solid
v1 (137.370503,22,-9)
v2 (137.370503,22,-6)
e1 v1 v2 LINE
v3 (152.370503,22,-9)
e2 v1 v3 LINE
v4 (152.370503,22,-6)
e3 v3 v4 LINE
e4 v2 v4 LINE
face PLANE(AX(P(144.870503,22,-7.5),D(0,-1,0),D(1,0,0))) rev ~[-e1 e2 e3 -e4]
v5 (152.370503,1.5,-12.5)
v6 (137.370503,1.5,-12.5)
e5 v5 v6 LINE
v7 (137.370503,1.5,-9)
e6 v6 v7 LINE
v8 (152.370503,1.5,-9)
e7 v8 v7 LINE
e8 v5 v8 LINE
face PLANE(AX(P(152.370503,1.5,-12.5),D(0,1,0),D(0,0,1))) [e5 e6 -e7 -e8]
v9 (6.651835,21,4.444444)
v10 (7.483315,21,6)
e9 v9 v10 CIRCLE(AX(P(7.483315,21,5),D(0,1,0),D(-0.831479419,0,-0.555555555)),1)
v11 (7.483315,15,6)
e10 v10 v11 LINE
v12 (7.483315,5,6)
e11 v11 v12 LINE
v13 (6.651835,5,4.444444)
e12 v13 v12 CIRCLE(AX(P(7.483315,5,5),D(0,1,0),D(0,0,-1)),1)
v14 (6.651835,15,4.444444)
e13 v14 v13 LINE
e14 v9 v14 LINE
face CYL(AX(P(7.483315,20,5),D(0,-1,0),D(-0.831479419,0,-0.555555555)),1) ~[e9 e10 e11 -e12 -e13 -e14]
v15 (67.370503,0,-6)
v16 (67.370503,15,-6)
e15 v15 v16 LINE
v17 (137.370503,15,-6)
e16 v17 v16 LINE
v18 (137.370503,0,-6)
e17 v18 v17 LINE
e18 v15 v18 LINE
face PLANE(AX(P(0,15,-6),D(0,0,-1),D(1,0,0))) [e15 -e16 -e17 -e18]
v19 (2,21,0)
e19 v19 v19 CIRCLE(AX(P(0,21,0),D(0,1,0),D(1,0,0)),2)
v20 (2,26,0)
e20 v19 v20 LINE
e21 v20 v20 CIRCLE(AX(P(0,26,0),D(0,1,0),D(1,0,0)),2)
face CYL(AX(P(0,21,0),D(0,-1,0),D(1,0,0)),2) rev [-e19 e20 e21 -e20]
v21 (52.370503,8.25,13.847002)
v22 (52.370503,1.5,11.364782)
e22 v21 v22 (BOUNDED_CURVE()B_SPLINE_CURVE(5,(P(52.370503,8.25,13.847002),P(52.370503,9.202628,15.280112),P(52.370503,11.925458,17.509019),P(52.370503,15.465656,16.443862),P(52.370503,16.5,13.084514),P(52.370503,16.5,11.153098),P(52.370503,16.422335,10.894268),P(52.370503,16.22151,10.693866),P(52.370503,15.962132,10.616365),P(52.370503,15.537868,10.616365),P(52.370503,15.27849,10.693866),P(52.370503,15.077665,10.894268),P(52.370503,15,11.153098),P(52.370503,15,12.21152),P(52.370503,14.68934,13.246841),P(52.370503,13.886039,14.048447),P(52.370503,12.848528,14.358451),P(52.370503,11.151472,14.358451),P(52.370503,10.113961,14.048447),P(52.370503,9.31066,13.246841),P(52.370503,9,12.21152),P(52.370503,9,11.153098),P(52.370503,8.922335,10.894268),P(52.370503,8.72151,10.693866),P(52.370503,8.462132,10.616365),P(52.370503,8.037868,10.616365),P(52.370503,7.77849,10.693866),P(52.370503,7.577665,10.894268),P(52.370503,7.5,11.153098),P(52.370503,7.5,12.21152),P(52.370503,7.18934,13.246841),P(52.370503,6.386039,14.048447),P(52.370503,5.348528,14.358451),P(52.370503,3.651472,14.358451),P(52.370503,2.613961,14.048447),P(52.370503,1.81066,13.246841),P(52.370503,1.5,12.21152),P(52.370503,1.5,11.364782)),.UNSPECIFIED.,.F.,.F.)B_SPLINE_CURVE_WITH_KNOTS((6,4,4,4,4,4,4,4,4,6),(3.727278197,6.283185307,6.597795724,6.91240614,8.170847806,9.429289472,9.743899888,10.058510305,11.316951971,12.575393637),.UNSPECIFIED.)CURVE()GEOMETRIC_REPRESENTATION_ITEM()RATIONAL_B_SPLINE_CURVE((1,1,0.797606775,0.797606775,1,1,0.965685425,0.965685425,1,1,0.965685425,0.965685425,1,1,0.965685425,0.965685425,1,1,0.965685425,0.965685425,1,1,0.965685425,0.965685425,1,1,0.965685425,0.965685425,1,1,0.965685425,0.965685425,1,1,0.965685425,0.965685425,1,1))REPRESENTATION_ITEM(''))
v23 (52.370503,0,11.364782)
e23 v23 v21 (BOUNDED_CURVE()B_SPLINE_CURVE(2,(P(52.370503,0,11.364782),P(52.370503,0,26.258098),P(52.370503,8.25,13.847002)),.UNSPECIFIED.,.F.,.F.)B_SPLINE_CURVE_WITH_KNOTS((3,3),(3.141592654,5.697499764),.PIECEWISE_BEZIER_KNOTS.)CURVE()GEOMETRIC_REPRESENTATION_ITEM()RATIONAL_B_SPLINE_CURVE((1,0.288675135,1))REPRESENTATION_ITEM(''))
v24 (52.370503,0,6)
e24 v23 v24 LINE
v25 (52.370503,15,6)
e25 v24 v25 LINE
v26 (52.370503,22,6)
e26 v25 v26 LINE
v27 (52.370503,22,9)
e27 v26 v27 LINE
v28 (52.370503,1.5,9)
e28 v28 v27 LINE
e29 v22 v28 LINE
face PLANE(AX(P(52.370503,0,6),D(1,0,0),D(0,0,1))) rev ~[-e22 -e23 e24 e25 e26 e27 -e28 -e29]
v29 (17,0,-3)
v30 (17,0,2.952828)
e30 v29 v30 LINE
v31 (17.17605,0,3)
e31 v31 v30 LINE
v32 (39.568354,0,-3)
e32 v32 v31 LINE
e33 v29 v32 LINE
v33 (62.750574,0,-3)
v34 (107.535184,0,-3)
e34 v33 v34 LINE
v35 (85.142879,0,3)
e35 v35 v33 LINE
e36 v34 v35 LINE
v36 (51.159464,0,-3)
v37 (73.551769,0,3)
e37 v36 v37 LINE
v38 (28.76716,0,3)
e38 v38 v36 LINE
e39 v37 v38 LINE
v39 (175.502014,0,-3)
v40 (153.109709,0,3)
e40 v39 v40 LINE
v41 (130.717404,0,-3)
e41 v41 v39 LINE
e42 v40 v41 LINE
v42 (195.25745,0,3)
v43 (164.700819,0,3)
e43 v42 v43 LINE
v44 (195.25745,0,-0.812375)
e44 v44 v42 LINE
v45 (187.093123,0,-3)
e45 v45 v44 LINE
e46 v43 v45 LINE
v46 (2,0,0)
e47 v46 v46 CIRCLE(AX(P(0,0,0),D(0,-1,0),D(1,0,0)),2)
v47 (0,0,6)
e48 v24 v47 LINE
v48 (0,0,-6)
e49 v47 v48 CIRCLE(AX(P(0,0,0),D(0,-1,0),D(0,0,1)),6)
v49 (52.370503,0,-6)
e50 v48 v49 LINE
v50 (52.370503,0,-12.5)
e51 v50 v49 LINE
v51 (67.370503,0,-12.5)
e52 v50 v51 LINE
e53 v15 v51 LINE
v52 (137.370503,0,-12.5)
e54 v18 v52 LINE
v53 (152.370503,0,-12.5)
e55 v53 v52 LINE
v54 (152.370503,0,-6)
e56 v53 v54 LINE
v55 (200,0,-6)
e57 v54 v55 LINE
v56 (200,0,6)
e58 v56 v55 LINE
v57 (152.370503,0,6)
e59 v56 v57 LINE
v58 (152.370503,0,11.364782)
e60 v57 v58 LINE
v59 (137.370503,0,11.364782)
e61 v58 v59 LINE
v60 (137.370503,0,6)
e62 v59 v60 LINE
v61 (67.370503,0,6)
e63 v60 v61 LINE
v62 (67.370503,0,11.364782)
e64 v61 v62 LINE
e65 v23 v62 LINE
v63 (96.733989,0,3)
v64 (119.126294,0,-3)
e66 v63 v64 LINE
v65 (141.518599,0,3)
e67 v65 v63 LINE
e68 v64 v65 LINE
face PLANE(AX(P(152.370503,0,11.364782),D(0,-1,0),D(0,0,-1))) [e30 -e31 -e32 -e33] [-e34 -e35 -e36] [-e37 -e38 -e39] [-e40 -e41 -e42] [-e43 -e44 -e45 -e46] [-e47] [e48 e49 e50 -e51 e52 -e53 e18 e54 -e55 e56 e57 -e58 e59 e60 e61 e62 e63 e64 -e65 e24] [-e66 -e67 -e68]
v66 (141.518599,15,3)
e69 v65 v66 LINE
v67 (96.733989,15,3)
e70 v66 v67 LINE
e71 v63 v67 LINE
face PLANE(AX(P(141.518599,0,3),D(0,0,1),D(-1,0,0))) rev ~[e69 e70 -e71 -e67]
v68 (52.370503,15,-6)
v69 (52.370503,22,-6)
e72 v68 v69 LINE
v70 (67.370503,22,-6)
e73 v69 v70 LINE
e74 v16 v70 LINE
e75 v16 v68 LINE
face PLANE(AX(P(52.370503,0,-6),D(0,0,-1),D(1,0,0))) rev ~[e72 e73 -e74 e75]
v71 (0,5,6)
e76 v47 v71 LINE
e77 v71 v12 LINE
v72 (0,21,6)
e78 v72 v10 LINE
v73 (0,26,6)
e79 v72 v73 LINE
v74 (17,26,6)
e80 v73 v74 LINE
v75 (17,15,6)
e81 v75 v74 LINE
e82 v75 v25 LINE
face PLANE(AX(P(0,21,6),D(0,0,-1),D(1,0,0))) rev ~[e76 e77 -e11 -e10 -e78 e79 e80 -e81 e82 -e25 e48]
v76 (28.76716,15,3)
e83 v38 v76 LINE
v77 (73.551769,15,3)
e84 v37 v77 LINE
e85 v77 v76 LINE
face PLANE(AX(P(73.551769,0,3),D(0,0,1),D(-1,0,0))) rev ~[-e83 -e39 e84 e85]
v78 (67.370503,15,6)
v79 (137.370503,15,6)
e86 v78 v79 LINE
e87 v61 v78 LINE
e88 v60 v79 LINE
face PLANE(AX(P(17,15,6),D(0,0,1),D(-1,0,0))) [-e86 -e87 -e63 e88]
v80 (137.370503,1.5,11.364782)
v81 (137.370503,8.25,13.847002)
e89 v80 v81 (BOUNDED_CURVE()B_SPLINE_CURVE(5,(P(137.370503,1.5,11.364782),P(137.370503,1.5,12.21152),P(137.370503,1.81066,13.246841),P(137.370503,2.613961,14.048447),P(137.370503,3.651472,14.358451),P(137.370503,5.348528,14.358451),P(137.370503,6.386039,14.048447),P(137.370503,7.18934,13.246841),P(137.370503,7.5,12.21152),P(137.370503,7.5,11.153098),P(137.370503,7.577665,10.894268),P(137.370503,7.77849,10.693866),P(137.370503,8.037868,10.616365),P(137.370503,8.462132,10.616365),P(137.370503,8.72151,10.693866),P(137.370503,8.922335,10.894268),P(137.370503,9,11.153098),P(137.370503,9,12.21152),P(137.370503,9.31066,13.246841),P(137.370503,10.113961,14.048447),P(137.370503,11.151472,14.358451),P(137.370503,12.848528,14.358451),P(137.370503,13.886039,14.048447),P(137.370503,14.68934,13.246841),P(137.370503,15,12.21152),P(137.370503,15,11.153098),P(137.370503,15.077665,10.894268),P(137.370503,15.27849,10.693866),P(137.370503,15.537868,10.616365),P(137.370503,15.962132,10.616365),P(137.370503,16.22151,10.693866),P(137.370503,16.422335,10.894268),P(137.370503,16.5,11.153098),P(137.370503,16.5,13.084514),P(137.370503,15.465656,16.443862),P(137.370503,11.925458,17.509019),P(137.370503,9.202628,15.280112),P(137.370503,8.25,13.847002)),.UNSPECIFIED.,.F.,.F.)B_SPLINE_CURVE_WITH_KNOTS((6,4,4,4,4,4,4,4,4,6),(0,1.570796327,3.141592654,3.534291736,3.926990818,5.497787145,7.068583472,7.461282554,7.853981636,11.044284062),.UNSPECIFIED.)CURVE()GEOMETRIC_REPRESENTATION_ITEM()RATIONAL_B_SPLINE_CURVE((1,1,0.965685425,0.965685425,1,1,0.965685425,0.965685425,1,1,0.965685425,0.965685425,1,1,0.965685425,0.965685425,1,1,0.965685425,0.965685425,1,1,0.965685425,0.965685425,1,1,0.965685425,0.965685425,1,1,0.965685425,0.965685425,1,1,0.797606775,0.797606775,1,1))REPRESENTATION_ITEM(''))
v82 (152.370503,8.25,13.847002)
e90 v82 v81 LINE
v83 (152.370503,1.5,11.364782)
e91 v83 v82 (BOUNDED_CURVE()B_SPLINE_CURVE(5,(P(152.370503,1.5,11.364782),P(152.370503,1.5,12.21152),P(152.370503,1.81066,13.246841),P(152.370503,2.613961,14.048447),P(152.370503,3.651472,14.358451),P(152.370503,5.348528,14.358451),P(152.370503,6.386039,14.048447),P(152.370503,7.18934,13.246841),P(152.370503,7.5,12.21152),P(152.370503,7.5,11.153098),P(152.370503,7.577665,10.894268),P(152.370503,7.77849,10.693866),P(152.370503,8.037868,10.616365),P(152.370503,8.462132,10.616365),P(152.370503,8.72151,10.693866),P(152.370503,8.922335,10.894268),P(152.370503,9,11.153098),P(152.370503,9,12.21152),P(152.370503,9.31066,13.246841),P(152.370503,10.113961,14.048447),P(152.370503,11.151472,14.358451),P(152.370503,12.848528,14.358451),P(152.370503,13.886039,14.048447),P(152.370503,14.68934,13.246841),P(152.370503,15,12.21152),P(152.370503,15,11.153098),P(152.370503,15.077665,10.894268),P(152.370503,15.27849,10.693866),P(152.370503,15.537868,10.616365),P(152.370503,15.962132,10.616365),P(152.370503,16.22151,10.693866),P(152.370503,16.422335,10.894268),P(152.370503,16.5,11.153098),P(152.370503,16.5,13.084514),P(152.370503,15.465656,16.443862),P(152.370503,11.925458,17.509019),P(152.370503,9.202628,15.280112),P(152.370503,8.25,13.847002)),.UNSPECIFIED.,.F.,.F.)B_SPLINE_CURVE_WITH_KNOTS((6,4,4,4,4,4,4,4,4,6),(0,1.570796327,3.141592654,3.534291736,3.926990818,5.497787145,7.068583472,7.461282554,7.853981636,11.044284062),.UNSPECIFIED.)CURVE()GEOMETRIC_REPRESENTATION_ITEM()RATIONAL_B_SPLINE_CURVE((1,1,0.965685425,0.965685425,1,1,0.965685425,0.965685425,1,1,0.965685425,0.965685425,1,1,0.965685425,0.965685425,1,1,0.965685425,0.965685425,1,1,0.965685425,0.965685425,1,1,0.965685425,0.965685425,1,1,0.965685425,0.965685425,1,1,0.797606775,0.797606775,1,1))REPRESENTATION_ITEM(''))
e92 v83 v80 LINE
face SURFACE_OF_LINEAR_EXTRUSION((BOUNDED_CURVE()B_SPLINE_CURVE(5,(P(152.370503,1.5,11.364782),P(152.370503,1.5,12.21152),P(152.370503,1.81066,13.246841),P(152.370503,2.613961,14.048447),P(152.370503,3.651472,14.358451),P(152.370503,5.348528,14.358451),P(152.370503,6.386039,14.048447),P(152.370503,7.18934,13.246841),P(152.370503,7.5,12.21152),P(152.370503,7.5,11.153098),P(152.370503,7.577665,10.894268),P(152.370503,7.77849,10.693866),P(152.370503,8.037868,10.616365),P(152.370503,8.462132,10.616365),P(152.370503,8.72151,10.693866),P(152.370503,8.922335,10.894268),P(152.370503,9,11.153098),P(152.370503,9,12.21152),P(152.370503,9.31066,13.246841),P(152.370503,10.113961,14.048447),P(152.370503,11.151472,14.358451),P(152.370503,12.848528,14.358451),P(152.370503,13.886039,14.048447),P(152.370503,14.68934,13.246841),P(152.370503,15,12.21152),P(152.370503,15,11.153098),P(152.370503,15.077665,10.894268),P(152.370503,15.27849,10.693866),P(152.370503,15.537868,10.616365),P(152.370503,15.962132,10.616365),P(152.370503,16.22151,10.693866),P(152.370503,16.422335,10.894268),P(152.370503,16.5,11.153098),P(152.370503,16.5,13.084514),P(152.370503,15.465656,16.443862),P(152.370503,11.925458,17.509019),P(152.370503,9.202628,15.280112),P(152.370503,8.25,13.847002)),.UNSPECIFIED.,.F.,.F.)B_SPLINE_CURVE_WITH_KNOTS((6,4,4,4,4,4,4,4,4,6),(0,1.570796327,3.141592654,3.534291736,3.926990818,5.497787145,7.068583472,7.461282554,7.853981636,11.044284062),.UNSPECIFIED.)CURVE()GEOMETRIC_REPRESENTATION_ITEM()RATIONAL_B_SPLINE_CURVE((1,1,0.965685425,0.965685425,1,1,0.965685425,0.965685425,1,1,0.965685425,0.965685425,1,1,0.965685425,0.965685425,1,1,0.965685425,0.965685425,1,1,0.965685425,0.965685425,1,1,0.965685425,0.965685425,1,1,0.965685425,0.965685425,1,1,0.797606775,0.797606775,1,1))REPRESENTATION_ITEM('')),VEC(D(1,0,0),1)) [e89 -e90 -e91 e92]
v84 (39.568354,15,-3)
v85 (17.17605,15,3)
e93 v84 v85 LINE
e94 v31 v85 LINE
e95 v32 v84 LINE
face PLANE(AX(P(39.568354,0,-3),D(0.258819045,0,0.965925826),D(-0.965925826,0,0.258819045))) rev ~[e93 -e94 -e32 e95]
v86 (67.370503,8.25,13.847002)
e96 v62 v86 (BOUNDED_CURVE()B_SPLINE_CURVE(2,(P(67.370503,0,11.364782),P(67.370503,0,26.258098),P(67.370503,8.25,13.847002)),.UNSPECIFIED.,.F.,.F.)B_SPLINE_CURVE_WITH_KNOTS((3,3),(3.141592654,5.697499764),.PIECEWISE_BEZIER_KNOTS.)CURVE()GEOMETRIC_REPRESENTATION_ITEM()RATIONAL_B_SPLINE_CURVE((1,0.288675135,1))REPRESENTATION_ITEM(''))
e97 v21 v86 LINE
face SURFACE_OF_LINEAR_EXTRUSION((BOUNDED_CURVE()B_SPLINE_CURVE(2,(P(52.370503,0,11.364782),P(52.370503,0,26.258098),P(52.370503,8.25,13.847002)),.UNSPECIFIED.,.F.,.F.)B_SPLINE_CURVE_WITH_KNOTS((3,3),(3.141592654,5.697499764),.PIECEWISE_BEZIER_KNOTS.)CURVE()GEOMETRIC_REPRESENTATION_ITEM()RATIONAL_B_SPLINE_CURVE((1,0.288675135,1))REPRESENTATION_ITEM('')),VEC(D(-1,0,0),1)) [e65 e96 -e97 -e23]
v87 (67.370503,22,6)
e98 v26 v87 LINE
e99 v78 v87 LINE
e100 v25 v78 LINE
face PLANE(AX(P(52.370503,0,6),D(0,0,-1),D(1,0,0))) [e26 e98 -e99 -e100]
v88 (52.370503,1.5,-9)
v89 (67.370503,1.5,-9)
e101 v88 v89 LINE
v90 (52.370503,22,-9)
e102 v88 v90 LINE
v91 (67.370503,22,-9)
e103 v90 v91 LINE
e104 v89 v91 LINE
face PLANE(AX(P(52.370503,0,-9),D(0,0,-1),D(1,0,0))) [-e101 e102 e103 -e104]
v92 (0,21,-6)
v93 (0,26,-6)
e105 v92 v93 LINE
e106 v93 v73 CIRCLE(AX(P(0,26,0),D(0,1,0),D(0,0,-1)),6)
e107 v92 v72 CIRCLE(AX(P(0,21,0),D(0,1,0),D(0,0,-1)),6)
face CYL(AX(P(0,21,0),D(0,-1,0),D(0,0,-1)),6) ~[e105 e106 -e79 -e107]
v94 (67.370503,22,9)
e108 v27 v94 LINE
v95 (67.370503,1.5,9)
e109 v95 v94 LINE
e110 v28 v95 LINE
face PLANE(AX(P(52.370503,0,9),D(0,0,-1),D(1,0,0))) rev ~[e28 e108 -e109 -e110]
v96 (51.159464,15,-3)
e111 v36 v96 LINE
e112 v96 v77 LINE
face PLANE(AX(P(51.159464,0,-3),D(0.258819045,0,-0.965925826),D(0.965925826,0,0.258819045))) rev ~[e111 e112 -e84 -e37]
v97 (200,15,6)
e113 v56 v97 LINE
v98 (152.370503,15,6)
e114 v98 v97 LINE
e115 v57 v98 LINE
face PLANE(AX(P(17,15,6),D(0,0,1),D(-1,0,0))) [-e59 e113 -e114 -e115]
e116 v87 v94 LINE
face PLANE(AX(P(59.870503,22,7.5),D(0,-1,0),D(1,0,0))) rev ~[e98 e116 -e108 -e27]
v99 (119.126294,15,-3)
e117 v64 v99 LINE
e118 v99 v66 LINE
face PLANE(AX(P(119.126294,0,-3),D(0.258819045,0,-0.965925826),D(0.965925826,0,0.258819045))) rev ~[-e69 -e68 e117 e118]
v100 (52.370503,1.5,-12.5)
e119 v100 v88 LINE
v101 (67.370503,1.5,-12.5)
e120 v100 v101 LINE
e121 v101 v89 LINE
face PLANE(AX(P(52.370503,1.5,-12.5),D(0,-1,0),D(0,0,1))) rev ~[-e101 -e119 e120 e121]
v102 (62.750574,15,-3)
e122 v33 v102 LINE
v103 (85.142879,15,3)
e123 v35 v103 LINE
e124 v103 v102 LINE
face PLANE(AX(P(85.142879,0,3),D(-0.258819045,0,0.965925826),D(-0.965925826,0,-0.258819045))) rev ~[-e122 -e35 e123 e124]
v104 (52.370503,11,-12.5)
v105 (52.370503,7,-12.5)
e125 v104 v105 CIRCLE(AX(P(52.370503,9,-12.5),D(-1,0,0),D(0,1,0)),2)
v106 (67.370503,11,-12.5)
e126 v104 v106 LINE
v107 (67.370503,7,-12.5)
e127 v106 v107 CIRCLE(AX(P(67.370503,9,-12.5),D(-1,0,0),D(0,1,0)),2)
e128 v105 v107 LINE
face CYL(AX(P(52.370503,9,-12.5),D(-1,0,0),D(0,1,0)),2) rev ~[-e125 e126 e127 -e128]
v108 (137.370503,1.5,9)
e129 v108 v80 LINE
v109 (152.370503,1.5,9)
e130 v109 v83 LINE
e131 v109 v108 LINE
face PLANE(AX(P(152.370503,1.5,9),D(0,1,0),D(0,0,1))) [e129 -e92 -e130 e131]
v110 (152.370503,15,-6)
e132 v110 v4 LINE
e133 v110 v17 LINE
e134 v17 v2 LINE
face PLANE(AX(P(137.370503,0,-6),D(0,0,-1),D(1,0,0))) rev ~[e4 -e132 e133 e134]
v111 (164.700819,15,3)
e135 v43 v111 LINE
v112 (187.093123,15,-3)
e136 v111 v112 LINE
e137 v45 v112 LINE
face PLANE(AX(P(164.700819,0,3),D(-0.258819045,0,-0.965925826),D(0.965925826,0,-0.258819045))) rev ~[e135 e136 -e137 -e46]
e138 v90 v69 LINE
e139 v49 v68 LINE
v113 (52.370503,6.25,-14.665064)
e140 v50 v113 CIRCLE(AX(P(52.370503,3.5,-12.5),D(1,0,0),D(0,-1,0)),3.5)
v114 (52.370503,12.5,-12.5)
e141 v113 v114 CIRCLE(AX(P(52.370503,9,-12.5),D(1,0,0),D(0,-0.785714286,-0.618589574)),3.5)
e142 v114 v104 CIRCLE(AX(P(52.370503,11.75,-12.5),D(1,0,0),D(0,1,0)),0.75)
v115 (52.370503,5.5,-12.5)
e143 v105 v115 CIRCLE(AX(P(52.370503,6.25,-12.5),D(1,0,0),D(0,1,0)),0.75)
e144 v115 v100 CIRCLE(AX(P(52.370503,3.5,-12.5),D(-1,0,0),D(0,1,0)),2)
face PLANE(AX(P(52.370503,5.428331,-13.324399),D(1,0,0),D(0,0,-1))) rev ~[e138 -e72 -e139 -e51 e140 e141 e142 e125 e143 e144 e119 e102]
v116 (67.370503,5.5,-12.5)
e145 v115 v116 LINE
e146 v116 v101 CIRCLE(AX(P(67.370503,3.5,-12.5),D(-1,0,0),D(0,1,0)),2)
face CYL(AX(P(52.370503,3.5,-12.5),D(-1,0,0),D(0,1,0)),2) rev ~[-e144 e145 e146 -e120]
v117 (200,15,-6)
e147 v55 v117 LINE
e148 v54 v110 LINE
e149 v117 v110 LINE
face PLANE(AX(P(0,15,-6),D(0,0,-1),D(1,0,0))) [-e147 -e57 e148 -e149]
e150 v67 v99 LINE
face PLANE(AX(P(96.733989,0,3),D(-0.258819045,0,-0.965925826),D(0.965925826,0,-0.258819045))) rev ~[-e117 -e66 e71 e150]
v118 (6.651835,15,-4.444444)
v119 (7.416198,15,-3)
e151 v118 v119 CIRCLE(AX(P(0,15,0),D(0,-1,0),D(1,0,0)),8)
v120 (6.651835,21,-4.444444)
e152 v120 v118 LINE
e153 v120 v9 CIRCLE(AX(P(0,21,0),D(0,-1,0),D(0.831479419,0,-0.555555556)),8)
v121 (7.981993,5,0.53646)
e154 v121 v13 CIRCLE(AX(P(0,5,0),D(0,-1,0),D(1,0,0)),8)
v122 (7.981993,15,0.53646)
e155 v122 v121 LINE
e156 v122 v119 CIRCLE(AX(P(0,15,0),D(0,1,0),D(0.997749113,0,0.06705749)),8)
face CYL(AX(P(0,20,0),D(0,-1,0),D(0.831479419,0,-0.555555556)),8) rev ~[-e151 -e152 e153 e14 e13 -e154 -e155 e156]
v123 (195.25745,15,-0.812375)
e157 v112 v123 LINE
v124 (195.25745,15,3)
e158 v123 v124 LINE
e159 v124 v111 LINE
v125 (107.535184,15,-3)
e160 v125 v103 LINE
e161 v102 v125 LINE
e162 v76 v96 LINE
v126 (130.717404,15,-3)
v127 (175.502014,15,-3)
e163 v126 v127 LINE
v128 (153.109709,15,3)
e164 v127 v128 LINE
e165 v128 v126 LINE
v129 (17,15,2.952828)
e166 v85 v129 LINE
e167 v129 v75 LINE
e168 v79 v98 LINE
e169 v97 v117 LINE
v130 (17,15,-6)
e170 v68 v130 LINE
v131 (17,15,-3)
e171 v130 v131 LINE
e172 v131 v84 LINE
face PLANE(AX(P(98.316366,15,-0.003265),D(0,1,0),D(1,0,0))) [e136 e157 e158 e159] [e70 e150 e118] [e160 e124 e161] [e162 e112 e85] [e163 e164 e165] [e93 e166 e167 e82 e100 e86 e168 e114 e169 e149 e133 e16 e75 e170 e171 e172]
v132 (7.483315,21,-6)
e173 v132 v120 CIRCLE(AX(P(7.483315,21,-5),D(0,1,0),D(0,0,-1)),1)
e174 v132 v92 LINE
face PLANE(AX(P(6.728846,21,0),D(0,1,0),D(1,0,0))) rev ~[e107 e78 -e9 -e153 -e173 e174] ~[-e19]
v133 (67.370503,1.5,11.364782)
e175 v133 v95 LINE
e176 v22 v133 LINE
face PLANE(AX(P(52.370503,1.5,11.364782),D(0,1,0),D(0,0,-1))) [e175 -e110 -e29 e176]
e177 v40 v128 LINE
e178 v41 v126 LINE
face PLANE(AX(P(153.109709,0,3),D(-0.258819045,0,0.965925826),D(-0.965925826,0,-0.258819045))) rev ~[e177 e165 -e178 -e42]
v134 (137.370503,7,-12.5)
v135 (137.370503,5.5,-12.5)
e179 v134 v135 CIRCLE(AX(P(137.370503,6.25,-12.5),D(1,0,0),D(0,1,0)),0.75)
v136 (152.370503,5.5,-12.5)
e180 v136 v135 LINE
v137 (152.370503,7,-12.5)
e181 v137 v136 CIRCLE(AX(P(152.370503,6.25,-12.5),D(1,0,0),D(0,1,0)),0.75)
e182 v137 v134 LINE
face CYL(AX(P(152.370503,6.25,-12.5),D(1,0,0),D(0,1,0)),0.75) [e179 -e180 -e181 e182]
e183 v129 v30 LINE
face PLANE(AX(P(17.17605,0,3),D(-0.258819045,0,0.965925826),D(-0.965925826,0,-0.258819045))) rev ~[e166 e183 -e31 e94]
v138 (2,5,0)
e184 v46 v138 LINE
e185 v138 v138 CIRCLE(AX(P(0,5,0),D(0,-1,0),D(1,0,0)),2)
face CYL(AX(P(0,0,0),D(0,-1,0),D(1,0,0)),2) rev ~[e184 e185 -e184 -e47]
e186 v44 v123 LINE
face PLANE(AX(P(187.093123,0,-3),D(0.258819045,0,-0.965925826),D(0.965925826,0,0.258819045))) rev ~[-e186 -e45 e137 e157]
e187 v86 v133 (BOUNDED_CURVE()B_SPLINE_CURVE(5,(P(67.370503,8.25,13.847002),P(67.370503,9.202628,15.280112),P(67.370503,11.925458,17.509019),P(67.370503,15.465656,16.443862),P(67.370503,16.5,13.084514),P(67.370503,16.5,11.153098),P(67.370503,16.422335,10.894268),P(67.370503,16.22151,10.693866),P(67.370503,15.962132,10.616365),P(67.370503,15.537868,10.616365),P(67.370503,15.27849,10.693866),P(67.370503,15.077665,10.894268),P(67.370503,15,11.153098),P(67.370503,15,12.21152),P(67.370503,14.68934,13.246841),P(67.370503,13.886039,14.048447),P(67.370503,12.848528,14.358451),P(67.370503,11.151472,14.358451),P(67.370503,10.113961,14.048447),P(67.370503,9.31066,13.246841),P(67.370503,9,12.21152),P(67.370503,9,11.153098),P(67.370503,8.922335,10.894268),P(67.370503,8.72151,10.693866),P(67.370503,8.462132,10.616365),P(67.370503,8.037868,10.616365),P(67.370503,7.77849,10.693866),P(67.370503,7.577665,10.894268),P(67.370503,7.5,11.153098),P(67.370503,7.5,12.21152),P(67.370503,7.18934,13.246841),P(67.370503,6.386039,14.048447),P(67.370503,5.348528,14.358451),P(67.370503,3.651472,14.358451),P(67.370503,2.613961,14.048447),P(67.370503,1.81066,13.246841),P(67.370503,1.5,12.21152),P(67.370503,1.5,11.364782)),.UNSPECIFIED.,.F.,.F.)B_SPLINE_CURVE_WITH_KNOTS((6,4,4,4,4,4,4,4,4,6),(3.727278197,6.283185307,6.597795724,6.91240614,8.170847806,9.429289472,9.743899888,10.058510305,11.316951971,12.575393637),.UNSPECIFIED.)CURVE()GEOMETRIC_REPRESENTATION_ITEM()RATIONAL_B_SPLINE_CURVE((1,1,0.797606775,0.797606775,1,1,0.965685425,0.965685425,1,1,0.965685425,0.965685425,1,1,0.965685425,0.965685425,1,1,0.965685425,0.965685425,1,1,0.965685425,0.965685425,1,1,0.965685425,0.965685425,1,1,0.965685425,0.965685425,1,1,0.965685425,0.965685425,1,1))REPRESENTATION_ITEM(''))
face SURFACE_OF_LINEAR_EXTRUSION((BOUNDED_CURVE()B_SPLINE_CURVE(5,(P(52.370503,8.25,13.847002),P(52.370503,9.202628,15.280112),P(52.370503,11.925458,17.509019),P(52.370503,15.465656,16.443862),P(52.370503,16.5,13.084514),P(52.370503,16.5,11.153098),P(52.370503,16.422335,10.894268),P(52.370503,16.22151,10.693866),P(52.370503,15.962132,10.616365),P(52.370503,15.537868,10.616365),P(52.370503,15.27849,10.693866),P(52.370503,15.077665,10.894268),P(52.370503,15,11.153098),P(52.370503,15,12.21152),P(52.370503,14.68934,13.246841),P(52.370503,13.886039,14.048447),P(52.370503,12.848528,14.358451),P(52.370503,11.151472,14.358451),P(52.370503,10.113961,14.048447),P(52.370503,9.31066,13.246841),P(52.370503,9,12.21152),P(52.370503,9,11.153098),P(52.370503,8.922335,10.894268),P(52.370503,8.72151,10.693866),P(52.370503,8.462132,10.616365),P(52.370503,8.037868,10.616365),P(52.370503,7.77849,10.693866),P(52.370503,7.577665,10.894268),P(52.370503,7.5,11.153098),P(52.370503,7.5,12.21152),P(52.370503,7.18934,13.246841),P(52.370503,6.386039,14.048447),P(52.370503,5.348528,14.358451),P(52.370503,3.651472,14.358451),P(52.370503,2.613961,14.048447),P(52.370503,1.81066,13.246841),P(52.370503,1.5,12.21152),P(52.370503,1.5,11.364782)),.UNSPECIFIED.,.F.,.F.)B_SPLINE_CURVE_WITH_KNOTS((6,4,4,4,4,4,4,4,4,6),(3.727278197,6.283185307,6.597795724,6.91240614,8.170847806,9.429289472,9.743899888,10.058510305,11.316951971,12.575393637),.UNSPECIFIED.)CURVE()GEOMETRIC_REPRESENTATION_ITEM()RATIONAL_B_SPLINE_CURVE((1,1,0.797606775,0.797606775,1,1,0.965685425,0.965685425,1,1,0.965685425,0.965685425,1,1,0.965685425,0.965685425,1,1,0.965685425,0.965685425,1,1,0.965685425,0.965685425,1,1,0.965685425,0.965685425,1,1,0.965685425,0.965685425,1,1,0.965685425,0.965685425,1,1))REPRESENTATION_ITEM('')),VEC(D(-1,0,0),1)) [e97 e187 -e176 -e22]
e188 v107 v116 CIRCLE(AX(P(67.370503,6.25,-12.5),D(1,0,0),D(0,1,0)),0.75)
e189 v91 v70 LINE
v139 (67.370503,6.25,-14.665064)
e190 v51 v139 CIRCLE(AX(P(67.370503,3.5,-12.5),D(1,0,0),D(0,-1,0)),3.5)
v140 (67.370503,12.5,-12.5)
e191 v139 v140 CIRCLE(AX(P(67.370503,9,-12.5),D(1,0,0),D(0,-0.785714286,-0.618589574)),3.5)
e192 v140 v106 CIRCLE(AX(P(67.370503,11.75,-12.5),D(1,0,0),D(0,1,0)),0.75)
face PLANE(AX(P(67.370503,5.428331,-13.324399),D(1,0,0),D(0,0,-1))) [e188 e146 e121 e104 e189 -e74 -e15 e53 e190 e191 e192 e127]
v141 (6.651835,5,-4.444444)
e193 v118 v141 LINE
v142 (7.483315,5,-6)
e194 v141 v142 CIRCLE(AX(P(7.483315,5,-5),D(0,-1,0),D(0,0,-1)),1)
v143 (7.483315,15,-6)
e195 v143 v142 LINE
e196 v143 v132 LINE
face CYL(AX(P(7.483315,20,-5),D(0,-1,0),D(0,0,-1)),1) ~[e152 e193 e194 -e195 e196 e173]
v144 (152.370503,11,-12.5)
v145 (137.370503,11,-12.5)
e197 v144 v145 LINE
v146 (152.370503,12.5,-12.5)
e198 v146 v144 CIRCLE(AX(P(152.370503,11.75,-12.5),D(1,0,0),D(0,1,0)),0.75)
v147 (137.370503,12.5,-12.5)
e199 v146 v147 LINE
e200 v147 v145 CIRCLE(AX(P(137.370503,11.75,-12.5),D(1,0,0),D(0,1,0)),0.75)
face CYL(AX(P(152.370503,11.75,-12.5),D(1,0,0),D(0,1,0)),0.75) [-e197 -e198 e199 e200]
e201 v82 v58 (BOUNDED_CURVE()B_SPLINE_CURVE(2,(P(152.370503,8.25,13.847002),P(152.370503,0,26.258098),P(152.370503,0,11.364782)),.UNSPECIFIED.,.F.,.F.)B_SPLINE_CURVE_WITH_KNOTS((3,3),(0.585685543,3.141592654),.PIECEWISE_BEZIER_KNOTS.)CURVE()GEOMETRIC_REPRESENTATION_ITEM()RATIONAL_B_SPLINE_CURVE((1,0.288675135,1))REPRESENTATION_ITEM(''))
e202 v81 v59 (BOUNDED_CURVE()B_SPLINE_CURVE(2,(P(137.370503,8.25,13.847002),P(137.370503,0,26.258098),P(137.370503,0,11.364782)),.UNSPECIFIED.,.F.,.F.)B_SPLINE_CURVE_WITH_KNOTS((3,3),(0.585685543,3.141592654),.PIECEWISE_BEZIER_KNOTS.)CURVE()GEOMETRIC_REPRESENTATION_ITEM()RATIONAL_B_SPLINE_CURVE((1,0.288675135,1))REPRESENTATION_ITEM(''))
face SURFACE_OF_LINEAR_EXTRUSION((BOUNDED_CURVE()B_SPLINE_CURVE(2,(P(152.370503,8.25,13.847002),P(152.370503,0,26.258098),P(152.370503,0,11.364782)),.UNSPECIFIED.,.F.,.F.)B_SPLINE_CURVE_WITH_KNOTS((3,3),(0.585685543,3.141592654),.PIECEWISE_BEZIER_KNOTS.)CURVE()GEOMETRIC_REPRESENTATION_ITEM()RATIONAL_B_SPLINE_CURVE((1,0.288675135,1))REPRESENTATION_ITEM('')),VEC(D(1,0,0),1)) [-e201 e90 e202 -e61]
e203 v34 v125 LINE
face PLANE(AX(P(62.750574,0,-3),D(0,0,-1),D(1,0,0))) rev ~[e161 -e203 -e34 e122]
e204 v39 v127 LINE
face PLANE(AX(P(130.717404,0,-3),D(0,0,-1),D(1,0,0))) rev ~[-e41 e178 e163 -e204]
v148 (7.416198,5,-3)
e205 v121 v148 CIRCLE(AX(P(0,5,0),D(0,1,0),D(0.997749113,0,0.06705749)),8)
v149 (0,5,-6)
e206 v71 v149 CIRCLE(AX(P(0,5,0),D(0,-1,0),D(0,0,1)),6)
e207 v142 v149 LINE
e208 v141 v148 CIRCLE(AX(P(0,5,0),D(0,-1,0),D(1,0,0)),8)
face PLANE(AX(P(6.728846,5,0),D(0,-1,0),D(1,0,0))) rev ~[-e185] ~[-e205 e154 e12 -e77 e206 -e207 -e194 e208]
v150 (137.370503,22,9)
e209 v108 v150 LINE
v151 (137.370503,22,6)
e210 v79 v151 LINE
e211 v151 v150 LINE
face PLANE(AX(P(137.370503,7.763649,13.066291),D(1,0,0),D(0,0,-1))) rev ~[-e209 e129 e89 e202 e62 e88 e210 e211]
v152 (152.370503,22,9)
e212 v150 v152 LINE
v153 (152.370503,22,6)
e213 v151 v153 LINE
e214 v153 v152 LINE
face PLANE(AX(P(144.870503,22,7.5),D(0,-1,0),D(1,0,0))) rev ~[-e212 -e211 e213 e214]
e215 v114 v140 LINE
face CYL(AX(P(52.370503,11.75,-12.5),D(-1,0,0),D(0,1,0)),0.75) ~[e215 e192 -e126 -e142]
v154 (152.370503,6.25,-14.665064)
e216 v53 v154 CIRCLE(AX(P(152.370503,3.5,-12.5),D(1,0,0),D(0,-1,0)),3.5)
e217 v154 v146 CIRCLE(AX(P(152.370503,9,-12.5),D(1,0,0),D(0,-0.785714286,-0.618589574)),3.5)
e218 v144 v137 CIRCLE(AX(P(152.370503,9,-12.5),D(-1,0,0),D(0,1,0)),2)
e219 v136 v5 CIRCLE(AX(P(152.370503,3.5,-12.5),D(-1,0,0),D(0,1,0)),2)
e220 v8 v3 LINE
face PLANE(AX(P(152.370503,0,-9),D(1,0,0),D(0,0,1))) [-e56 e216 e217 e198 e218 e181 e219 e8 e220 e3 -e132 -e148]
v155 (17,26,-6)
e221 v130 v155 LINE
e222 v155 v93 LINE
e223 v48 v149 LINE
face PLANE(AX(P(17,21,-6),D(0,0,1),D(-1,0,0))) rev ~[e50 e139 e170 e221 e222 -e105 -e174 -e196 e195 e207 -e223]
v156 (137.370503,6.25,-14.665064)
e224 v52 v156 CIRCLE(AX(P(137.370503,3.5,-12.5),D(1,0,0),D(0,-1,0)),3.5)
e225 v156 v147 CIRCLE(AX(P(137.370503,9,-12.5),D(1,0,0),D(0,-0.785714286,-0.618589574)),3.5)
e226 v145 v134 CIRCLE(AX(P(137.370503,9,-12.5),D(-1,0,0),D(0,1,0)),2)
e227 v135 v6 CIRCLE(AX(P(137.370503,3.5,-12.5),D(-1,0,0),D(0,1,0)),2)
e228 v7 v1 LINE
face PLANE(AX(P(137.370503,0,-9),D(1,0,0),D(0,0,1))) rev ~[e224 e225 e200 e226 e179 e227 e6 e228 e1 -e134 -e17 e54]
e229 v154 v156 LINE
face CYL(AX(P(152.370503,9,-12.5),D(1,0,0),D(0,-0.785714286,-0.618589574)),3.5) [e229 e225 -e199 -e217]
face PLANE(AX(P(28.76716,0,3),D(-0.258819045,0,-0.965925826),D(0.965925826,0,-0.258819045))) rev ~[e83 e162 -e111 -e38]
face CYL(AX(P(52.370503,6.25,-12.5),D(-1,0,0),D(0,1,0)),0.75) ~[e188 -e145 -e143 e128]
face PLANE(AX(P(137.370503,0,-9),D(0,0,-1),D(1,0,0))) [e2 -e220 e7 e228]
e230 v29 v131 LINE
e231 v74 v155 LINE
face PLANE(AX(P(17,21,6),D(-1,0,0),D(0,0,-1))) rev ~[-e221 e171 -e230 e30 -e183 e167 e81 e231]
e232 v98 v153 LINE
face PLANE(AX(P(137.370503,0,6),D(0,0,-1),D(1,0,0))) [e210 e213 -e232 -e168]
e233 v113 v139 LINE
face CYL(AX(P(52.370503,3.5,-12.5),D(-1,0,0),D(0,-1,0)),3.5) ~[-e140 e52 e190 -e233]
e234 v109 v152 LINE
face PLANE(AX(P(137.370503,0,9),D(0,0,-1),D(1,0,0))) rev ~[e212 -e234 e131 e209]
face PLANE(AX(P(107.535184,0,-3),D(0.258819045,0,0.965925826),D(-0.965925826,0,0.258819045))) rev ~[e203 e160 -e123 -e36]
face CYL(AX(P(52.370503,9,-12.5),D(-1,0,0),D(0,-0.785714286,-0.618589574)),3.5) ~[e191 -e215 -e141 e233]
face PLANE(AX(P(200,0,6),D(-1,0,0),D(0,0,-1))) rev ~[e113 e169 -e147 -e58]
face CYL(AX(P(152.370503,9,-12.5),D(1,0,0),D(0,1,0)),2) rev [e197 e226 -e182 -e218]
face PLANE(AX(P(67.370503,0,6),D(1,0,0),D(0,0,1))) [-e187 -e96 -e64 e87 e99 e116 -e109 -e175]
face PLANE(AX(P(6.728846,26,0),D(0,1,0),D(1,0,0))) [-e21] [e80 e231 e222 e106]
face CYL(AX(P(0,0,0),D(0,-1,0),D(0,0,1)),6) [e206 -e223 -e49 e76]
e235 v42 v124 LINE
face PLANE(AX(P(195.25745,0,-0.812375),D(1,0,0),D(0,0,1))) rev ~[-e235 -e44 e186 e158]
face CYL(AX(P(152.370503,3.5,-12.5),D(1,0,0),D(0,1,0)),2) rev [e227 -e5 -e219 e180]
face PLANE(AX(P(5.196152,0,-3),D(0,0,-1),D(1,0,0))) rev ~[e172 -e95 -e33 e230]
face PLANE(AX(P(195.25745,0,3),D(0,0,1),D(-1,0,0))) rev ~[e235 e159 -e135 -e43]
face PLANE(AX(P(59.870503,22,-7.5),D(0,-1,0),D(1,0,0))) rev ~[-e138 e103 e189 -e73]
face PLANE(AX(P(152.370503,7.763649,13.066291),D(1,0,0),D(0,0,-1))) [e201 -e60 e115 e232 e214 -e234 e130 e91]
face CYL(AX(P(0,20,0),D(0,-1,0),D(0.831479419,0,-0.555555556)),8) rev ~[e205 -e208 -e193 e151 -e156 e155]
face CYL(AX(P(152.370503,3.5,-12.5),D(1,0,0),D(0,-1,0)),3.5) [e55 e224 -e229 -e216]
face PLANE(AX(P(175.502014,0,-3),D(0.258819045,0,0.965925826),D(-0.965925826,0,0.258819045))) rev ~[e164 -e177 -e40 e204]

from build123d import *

# Parameters (mm, degrees)
SKETCH1_R            = 2
BOSS_EXTRUDE1_DEPTH  = 15
SKETCH2_R            = 2
BOSS_EXTRUDE2_DEPTH  = 5
SKETCH3_R            = 8
CUT_EXTRUDE1_DEPTH   = 15
BOSS_EXTRUDE3_DEPTH  = 15
SKETCH5_R            = 2
BOSS_EXTRUDE4_DEPTH  = 5
FILLET4_R            = 1
SKETCH11_W           = 15
SKETCH11_H           = 3
BOSS_EXTRUDE6_DEPTH  = 22
CUT_EXTRUDE4_DEPTH   = 8
BOSS_EXTRUDE7_DEPTH  = 1
SKETCH14_R           = 2
BOSS_EXTRUDE8_DEPTH  = 5
BOSS_EXTRUDE9_DEPTH  = 15
BOSS_EXTRUDE10_DEPTH = 15
BOSS_EXTRUDE11_DEPTH = 15
BOSS_EXTRUDE12_DEPTH = 15


with BuildPart() as part:
    # Sketch1 → Boss-Extrude1 (new body)
    with BuildSketch(Plane(origin=(0, 0, 0), x_dir=(1, 0, 0), z_dir=(0, 1, 0))):
        with BuildLine():
            Line((0, -6), (200, -6))
            Line((200, -6), (200, 6))
            Line((200, 6), (0, 6))
            ThreePointArc((0, 6), (-3, 5.196152423), (-5.196152423, 3))
            ThreePointArc((-5.196152423, 3), (-5.197498369, 2.997667544), (-5.198843268, 2.995334485))
            ThreePointArc((-5.198843268, 2.995334485), (-5.19480543, -3.002331851), (0, -6))
        make_face()
        Circle(SKETCH1_R, mode=Mode.SUBTRACT)
        with BuildLine():
            Line((39.568354484, 3), (17.176049639, -3))
            Line((17.176049639, -3), (5.999997583, -0.005385877))
            ThreePointArc((5.999997583, -0.005385877), (5.999999396, -0.002692939), (6, 0))
            ThreePointArc((6, 0), (5.795554958, 1.552914271), (5.196152423, 3))
            Line((5.196152423, 3), (39.568354484, 3))
        make_face(mode=Mode.SUBTRACT)
        Polygon((73.551769245, -3), (28.767159554, -3), (51.1594644, 3), align=None, mode=Mode.SUBTRACT)
        Polygon((85.142879161, -3), (62.750574315, 3), (107.535184006, 3), align=None, mode=Mode.SUBTRACT)
        Polygon((141.518598767, -3), (96.733989076, -3), (119.126293922, 3), align=None, mode=Mode.SUBTRACT)
        Polygon((153.109708683, -3), (130.717403837, 3), (175.502013528, 3), align=None, mode=Mode.SUBTRACT)
        Polygon((195.25744983, 0.812375338), (195.25744983, -3), (164.700818598, -3), (187.093123443, 3), align=None, mode=Mode.SUBTRACT)
    extrude(amount=BOSS_EXTRUDE1_DEPTH)

    # Sketch2 → Boss-Extrude2 (add)
    with BuildSketch(Plane(origin=(0, 15, 0), x_dir=(1, 0, 0), z_dir=(0, 1, 0))):
        with BuildLine():
            Line((0, 6), (17, 6))
            Line((17, 6), (17, -6))
            Line((17, -6), (0, -6))
            ThreePointArc((0, -6), (-6, 0), (0, 6))
        make_face()
        Circle(SKETCH2_R, mode=Mode.SUBTRACT)
    extrude(amount=BOSS_EXTRUDE2_DEPTH)

    # Sketch3 → Cut-Extrude1 (cut)
    with BuildSketch(Plane.XZ):
        Circle(SKETCH3_R)
    extrude(amount=-CUT_EXTRUDE1_DEPTH, mode=Mode.SUBTRACT)

    # Sketch4 → Boss-Extrude3 (add)
    with BuildSketch(Plane.XZ.offset(-15)):
        with BuildLine():
            Line((7.416198487, -3), (17, -3))
            Line((17, -3), (17, 2.952827641))
            Line((17, 2.952827641), (7.981992906, 0.536459923))
            ThreePointArc((7.981992906, 0.536459923), (7.899538704, -1.2638387), (7.416198487, -3))
        make_face()
    extrude(amount=BOSS_EXTRUDE3_DEPTH)

    # Sketch5 → Boss-Extrude4 (add)
    with BuildSketch(Plane.XZ):
        with BuildLine():
            Line((17, -6), (17, 6))
            Line((17, 6), (0, 6))
            ThreePointArc((0, 6), (-6, 0), (0, -6))
            Line((0, -6), (17, -6))
        make_face()
        Circle(SKETCH5_R, mode=Mode.SUBTRACT)
    extrude(amount=-BOSS_EXTRUDE4_DEPTH)

    # Fillet4
    fillet4_edges = [part.edges().sort_by_distance(p)[0] for p in [
        (5.291502622, 10, -6),
        (5.291502622, 10, 6),
    ]]
    fillet(fillet4_edges, radius=FILLET4_R)

    # Sketch11 → Boss-Extrude6 (add)
    with BuildSketch(Plane.XZ):
        with Locations((59.870503333, 7.5)):
            Rectangle(SKETCH11_W, SKETCH11_H)
        with Locations((59.870503333, -7.5)):
            Rectangle(SKETCH11_W, SKETCH11_H)
        with Locations((144.870503333, 7.5)):
            Rectangle(SKETCH11_W, SKETCH11_H)
        with Locations((144.870503333, -7.5)):
            Rectangle(SKETCH11_W, SKETCH11_H)
    extrude(amount=-BOSS_EXTRUDE6_DEPTH)

    # Sketch12 → Cut-Extrude4 (cut, through all)
    with BuildSketch(Plane.XZ.offset(-15)):
        with BuildLine():
            Line((0, -6), (7.483314774, -6))
            ThreePointArc((7.483314774, -6), (6.60139767, -5.471404521), (6.651835354, -4.444444444))
            ThreePointArc((6.651835354, -4.444444444), (8, 0), (6.651835354, 4.444444444))
            ThreePointArc((6.651835354, 4.444444444), (6.60139767, 5.471404521), (7.483314774, 6))
            Line((7.483314774, 6), (0, 6))
            ThreePointArc((0, 6), (-6, 0), (0, -6))
        make_face()
    extrude(amount=-CUT_EXTRUDE4_DEPTH, mode=Mode.SUBTRACT)

    # Sketch13 → Boss-Extrude7 (add)
    with BuildSketch(Plane(origin=(0, 20, 0), x_dir=(1, 0, 0), z_dir=(0, 1, 0))):
        with BuildLine():
            Line((7.483314774, -6), (17, -6))
            Line((17, -6), (17, 6))
            Line((17, 6), (7.483314774, 6))
            ThreePointArc((7.483314774, 6), (6.60139767, 5.471404521), (6.651835354, 4.444444444))
            ThreePointArc((6.651835354, 4.444444444), (8, 0), (6.651835354, -4.444444444))
            ThreePointArc((6.651835354, -4.444444444), (6.60139767, -5.471404521), (7.483314774, -6))
        make_face()
    extrude(amount=BOSS_EXTRUDE7_DEPTH)

    # Sketch14 → Boss-Extrude8 (add)
    with BuildSketch(Plane(origin=(0, 21, 0), x_dir=(1, 0, 0), z_dir=(0, 1, 0))):
        with BuildLine():
            Line((0, -6), (7.483314774, -6))
            Line((7.483314774, -6), (17, -6))
            Line((17, -6), (17, 6))
            Line((17, 6), (7.483314774, 6))
            Line((7.483314774, 6), (0, 6))
            ThreePointArc((0, 6), (-6, 0), (0, -6))
        make_face()
        Circle(SKETCH14_R, mode=Mode.SUBTRACT)
    extrude(amount=BOSS_EXTRUDE8_DEPTH)

    # Sketch17 → Boss-Extrude9 (add)
    with BuildSketch(Plane.ZY.offset(-52.370503333)):
        with BuildLine():
            Line((-12.5, 1.5), (-9, 1.5))
            Line((-9, 1.5), (-9, 0))
            Line((-9, 0), (-12.5, 0))
            ThreePointArc((-12.5, 0), (-15.807189139, 2.354356076), (-14.665063509, 6.25))
            ThreePointArc((-14.665063509, 6.25), (-15.807189139, 10.145643924), (-12.5, 12.5))
            ThreePointArc((-12.5, 12.5), (-11.75, 11.75), (-12.5, 11))
            ThreePointArc((-12.5, 11), (-14.5, 9), (-12.5, 7))
            ThreePointArc((-12.5, 7), (-11.75, 6.25), (-12.5, 5.5))
            ThreePointArc((-12.5, 5.5), (-14.5, 3.5), (-12.5, 1.5))
        make_face()
    extrude(amount=-BOSS_EXTRUDE9_DEPTH)

    # Sketch18 → Boss-Extrude10 (add)
    with BuildSketch(Plane(origin=(152.370503333, 0, 0), x_dir=(0, 0, -1), z_dir=(1, 0, 0))):
        with BuildLine():
            Line((6, 0), (12.5, 0))
            ThreePointArc((12.5, 0), (15.807189139, 2.354356076), (14.665063509, 6.25))
            ThreePointArc((14.665063509, 6.25), (15.807189139, 10.145643924), (12.5, 12.5))
            ThreePointArc((12.5, 12.5), (11.75, 11.75), (12.5, 11))
            ThreePointArc((12.5, 11), (14.5, 9), (12.5, 7))
            ThreePointArc((12.5, 7), (11.75, 6.25), (12.5, 5.5))
            ThreePointArc((12.5, 5.5), (14.5, 3.5), (12.5, 1.5))
            Line((12.5, 1.5), (9, 1.5))
            Line((9, 1.5), (9, 22))
            Line((9, 22), (6, 22))
            Line((6, 22), (6, 15))
            Line((6, 15), (6, 0))
        make_face()
    extrude(amount=-BOSS_EXTRUDE10_DEPTH)

    # Sketch20 → Boss-Extrude11 (add)
    with BuildSketch(Plane(origin=(152.370503333, 0, 0), x_dir=(0, 0, -1), z_dir=(1, 0, 0))):
        with BuildLine():
            Line((-11.364782306, 0), (-9, 0))
            Line((-9, 0), (-9, 1.5))
            Line((-9, 1.5), (-11.364782306, 1.5))
            add(Edge.make_bspline(
                [(-11.364782306, 7.5), (-14.358451493, 7.5), (-14.358451493, 4.5), (-14.358451493, 1.5), (-11.364782306, 1.5)],
                knots=[0, 0, 0, 1.570796327, 1.570796327, 3.141592654, 3.141592654, 3.141592654], degree=2, weights=[1, 0.707106781, 1, 0.707106781, 1]))
            add(Edge.make_bspline(
                [(-11.364782306, 7.5), (-10.616365009, 7.5), (-10.616365009, 8.25), (-10.616365009, 9), (-11.364782306, 9)],
                knots=[3.141592654, 3.141592654, 3.141592654, 4.71238898, 4.71238898, 6.283185307, 6.283185307, 6.283185307], degree=2, weights=[1, 0.707106781, 1, 0.707106781, 1]))
            add(Edge.make_bspline(
                [(-11.364782306, 15), (-14.358451493, 15), (-14.358451493, 12), (-14.358451493, 9), (-11.364782306, 9)],
                knots=[0, 0, 0, 1.570796327, 1.570796327, 3.141592654, 3.141592654, 3.141592654], degree=2, weights=[1, 0.707106781, 1, 0.707106781, 1]))
            add(Edge.make_bspline(
                [(-11.364782306, 15), (-10.616365009, 15), (-10.616365009, 15.75), (-10.616365009, 16.5), (-11.364782306, 16.5)],
                knots=[3.141592654, 3.141592654, 3.141592654, 4.71238898, 4.71238898, 6.283185307, 6.283185307, 6.283185307], degree=2, weights=[1, 0.707106781, 1, 0.707106781, 1]))
            add(Edge.make_bspline(
                [(-11.364782306, 16.5), (-26.258098465, 16.5), (-13.847001666, 8.25)],
                knots=[0, 0, 0, 2.55590711, 2.55590711, 2.55590711], degree=2, weights=[1, 0.288675135, 1]))
            add(Edge.make_bspline(
                [(-13.847001666, 8.25), (-26.258098465, 0), (-11.364782306, 0)],
                knots=[0.585685543, 0.585685543, 0.585685543, 3.141592654, 3.141592654, 3.141592654], degree=2, weights=[1, 0.288675135, 1]))
        make_face()
    extrude(amount=-BOSS_EXTRUDE11_DEPTH)

    # Sketch21 → Boss-Extrude12 (add)
    with BuildSketch(Plane.ZY.offset(-52.370503333)):
        with BuildLine():
            Line((6, 0), (11.364782306, 0))
            add(Edge.make_bspline(
                [(11.364782306, 0), (26.258098465, 0), (13.847001666, 8.25)],
                knots=[3.141592654, 3.141592654, 3.141592654, 5.697499764, 5.697499764, 5.697499764], degree=2, weights=[1, 0.288675135, 1]))
            add(Edge.make_bspline(
                [(13.847001666, 8.25), (26.258098465, 16.5), (11.364782306, 16.5)],
                knots=[3.727278197, 3.727278197, 3.727278197, 6.283185307, 6.283185307, 6.283185307], degree=2, weights=[1, 0.288675135, 1]))
            add(Edge.make_bspline(
                [(11.364782306, 16.5), (10.616365009, 16.5), (10.616365009, 15.75), (10.616365009, 15), (11.364782306, 15)],
                knots=[0, 0, 0, 1.570796327, 1.570796327, 3.141592654, 3.141592654, 3.141592654], degree=2, weights=[1, 0.707106781, 1, 0.707106781, 1]))
            add(Edge.make_bspline(
                [(11.364782306, 9), (14.358451493, 9), (14.358451493, 12), (14.358451493, 15), (11.364782306, 15)],
                knots=[3.141592654, 3.141592654, 3.141592654, 4.71238898, 4.71238898, 6.283185307, 6.283185307, 6.283185307], degree=2, weights=[1, 0.707106781, 1, 0.707106781, 1]))
            add(Edge.make_bspline(
                [(11.364782306, 9), (10.616365009, 9), (10.616365009, 8.25), (10.616365009, 7.5), (11.364782306, 7.5)],
                knots=[0, 0, 0, 1.570796327, 1.570796327, 3.141592654, 3.141592654, 3.141592654], degree=2, weights=[1, 0.707106781, 1, 0.707106781, 1]))
            add(Edge.make_bspline(
                [(11.364782306, 1.5), (14.358451493, 1.5), (14.358451493, 4.5), (14.358451493, 7.5), (11.364782306, 7.5)],
                knots=[3.141592654, 3.141592654, 3.141592654, 4.71238898, 4.71238898, 6.283185307, 6.283185307, 6.283185307], degree=2, weights=[1, 0.707106781, 1, 0.707106781, 1]))
            Line((11.364782306, 1.5), (9, 1.5))
            Line((9, 1.5), (9, 22))
            Line((9, 22), (6, 22))
            Line((6, 22), (6, 15))
            Line((6, 15), (6, 0))
        make_face()
    extrude(amount=-BOSS_EXTRUDE12_DEPTH)


solid = part.part
